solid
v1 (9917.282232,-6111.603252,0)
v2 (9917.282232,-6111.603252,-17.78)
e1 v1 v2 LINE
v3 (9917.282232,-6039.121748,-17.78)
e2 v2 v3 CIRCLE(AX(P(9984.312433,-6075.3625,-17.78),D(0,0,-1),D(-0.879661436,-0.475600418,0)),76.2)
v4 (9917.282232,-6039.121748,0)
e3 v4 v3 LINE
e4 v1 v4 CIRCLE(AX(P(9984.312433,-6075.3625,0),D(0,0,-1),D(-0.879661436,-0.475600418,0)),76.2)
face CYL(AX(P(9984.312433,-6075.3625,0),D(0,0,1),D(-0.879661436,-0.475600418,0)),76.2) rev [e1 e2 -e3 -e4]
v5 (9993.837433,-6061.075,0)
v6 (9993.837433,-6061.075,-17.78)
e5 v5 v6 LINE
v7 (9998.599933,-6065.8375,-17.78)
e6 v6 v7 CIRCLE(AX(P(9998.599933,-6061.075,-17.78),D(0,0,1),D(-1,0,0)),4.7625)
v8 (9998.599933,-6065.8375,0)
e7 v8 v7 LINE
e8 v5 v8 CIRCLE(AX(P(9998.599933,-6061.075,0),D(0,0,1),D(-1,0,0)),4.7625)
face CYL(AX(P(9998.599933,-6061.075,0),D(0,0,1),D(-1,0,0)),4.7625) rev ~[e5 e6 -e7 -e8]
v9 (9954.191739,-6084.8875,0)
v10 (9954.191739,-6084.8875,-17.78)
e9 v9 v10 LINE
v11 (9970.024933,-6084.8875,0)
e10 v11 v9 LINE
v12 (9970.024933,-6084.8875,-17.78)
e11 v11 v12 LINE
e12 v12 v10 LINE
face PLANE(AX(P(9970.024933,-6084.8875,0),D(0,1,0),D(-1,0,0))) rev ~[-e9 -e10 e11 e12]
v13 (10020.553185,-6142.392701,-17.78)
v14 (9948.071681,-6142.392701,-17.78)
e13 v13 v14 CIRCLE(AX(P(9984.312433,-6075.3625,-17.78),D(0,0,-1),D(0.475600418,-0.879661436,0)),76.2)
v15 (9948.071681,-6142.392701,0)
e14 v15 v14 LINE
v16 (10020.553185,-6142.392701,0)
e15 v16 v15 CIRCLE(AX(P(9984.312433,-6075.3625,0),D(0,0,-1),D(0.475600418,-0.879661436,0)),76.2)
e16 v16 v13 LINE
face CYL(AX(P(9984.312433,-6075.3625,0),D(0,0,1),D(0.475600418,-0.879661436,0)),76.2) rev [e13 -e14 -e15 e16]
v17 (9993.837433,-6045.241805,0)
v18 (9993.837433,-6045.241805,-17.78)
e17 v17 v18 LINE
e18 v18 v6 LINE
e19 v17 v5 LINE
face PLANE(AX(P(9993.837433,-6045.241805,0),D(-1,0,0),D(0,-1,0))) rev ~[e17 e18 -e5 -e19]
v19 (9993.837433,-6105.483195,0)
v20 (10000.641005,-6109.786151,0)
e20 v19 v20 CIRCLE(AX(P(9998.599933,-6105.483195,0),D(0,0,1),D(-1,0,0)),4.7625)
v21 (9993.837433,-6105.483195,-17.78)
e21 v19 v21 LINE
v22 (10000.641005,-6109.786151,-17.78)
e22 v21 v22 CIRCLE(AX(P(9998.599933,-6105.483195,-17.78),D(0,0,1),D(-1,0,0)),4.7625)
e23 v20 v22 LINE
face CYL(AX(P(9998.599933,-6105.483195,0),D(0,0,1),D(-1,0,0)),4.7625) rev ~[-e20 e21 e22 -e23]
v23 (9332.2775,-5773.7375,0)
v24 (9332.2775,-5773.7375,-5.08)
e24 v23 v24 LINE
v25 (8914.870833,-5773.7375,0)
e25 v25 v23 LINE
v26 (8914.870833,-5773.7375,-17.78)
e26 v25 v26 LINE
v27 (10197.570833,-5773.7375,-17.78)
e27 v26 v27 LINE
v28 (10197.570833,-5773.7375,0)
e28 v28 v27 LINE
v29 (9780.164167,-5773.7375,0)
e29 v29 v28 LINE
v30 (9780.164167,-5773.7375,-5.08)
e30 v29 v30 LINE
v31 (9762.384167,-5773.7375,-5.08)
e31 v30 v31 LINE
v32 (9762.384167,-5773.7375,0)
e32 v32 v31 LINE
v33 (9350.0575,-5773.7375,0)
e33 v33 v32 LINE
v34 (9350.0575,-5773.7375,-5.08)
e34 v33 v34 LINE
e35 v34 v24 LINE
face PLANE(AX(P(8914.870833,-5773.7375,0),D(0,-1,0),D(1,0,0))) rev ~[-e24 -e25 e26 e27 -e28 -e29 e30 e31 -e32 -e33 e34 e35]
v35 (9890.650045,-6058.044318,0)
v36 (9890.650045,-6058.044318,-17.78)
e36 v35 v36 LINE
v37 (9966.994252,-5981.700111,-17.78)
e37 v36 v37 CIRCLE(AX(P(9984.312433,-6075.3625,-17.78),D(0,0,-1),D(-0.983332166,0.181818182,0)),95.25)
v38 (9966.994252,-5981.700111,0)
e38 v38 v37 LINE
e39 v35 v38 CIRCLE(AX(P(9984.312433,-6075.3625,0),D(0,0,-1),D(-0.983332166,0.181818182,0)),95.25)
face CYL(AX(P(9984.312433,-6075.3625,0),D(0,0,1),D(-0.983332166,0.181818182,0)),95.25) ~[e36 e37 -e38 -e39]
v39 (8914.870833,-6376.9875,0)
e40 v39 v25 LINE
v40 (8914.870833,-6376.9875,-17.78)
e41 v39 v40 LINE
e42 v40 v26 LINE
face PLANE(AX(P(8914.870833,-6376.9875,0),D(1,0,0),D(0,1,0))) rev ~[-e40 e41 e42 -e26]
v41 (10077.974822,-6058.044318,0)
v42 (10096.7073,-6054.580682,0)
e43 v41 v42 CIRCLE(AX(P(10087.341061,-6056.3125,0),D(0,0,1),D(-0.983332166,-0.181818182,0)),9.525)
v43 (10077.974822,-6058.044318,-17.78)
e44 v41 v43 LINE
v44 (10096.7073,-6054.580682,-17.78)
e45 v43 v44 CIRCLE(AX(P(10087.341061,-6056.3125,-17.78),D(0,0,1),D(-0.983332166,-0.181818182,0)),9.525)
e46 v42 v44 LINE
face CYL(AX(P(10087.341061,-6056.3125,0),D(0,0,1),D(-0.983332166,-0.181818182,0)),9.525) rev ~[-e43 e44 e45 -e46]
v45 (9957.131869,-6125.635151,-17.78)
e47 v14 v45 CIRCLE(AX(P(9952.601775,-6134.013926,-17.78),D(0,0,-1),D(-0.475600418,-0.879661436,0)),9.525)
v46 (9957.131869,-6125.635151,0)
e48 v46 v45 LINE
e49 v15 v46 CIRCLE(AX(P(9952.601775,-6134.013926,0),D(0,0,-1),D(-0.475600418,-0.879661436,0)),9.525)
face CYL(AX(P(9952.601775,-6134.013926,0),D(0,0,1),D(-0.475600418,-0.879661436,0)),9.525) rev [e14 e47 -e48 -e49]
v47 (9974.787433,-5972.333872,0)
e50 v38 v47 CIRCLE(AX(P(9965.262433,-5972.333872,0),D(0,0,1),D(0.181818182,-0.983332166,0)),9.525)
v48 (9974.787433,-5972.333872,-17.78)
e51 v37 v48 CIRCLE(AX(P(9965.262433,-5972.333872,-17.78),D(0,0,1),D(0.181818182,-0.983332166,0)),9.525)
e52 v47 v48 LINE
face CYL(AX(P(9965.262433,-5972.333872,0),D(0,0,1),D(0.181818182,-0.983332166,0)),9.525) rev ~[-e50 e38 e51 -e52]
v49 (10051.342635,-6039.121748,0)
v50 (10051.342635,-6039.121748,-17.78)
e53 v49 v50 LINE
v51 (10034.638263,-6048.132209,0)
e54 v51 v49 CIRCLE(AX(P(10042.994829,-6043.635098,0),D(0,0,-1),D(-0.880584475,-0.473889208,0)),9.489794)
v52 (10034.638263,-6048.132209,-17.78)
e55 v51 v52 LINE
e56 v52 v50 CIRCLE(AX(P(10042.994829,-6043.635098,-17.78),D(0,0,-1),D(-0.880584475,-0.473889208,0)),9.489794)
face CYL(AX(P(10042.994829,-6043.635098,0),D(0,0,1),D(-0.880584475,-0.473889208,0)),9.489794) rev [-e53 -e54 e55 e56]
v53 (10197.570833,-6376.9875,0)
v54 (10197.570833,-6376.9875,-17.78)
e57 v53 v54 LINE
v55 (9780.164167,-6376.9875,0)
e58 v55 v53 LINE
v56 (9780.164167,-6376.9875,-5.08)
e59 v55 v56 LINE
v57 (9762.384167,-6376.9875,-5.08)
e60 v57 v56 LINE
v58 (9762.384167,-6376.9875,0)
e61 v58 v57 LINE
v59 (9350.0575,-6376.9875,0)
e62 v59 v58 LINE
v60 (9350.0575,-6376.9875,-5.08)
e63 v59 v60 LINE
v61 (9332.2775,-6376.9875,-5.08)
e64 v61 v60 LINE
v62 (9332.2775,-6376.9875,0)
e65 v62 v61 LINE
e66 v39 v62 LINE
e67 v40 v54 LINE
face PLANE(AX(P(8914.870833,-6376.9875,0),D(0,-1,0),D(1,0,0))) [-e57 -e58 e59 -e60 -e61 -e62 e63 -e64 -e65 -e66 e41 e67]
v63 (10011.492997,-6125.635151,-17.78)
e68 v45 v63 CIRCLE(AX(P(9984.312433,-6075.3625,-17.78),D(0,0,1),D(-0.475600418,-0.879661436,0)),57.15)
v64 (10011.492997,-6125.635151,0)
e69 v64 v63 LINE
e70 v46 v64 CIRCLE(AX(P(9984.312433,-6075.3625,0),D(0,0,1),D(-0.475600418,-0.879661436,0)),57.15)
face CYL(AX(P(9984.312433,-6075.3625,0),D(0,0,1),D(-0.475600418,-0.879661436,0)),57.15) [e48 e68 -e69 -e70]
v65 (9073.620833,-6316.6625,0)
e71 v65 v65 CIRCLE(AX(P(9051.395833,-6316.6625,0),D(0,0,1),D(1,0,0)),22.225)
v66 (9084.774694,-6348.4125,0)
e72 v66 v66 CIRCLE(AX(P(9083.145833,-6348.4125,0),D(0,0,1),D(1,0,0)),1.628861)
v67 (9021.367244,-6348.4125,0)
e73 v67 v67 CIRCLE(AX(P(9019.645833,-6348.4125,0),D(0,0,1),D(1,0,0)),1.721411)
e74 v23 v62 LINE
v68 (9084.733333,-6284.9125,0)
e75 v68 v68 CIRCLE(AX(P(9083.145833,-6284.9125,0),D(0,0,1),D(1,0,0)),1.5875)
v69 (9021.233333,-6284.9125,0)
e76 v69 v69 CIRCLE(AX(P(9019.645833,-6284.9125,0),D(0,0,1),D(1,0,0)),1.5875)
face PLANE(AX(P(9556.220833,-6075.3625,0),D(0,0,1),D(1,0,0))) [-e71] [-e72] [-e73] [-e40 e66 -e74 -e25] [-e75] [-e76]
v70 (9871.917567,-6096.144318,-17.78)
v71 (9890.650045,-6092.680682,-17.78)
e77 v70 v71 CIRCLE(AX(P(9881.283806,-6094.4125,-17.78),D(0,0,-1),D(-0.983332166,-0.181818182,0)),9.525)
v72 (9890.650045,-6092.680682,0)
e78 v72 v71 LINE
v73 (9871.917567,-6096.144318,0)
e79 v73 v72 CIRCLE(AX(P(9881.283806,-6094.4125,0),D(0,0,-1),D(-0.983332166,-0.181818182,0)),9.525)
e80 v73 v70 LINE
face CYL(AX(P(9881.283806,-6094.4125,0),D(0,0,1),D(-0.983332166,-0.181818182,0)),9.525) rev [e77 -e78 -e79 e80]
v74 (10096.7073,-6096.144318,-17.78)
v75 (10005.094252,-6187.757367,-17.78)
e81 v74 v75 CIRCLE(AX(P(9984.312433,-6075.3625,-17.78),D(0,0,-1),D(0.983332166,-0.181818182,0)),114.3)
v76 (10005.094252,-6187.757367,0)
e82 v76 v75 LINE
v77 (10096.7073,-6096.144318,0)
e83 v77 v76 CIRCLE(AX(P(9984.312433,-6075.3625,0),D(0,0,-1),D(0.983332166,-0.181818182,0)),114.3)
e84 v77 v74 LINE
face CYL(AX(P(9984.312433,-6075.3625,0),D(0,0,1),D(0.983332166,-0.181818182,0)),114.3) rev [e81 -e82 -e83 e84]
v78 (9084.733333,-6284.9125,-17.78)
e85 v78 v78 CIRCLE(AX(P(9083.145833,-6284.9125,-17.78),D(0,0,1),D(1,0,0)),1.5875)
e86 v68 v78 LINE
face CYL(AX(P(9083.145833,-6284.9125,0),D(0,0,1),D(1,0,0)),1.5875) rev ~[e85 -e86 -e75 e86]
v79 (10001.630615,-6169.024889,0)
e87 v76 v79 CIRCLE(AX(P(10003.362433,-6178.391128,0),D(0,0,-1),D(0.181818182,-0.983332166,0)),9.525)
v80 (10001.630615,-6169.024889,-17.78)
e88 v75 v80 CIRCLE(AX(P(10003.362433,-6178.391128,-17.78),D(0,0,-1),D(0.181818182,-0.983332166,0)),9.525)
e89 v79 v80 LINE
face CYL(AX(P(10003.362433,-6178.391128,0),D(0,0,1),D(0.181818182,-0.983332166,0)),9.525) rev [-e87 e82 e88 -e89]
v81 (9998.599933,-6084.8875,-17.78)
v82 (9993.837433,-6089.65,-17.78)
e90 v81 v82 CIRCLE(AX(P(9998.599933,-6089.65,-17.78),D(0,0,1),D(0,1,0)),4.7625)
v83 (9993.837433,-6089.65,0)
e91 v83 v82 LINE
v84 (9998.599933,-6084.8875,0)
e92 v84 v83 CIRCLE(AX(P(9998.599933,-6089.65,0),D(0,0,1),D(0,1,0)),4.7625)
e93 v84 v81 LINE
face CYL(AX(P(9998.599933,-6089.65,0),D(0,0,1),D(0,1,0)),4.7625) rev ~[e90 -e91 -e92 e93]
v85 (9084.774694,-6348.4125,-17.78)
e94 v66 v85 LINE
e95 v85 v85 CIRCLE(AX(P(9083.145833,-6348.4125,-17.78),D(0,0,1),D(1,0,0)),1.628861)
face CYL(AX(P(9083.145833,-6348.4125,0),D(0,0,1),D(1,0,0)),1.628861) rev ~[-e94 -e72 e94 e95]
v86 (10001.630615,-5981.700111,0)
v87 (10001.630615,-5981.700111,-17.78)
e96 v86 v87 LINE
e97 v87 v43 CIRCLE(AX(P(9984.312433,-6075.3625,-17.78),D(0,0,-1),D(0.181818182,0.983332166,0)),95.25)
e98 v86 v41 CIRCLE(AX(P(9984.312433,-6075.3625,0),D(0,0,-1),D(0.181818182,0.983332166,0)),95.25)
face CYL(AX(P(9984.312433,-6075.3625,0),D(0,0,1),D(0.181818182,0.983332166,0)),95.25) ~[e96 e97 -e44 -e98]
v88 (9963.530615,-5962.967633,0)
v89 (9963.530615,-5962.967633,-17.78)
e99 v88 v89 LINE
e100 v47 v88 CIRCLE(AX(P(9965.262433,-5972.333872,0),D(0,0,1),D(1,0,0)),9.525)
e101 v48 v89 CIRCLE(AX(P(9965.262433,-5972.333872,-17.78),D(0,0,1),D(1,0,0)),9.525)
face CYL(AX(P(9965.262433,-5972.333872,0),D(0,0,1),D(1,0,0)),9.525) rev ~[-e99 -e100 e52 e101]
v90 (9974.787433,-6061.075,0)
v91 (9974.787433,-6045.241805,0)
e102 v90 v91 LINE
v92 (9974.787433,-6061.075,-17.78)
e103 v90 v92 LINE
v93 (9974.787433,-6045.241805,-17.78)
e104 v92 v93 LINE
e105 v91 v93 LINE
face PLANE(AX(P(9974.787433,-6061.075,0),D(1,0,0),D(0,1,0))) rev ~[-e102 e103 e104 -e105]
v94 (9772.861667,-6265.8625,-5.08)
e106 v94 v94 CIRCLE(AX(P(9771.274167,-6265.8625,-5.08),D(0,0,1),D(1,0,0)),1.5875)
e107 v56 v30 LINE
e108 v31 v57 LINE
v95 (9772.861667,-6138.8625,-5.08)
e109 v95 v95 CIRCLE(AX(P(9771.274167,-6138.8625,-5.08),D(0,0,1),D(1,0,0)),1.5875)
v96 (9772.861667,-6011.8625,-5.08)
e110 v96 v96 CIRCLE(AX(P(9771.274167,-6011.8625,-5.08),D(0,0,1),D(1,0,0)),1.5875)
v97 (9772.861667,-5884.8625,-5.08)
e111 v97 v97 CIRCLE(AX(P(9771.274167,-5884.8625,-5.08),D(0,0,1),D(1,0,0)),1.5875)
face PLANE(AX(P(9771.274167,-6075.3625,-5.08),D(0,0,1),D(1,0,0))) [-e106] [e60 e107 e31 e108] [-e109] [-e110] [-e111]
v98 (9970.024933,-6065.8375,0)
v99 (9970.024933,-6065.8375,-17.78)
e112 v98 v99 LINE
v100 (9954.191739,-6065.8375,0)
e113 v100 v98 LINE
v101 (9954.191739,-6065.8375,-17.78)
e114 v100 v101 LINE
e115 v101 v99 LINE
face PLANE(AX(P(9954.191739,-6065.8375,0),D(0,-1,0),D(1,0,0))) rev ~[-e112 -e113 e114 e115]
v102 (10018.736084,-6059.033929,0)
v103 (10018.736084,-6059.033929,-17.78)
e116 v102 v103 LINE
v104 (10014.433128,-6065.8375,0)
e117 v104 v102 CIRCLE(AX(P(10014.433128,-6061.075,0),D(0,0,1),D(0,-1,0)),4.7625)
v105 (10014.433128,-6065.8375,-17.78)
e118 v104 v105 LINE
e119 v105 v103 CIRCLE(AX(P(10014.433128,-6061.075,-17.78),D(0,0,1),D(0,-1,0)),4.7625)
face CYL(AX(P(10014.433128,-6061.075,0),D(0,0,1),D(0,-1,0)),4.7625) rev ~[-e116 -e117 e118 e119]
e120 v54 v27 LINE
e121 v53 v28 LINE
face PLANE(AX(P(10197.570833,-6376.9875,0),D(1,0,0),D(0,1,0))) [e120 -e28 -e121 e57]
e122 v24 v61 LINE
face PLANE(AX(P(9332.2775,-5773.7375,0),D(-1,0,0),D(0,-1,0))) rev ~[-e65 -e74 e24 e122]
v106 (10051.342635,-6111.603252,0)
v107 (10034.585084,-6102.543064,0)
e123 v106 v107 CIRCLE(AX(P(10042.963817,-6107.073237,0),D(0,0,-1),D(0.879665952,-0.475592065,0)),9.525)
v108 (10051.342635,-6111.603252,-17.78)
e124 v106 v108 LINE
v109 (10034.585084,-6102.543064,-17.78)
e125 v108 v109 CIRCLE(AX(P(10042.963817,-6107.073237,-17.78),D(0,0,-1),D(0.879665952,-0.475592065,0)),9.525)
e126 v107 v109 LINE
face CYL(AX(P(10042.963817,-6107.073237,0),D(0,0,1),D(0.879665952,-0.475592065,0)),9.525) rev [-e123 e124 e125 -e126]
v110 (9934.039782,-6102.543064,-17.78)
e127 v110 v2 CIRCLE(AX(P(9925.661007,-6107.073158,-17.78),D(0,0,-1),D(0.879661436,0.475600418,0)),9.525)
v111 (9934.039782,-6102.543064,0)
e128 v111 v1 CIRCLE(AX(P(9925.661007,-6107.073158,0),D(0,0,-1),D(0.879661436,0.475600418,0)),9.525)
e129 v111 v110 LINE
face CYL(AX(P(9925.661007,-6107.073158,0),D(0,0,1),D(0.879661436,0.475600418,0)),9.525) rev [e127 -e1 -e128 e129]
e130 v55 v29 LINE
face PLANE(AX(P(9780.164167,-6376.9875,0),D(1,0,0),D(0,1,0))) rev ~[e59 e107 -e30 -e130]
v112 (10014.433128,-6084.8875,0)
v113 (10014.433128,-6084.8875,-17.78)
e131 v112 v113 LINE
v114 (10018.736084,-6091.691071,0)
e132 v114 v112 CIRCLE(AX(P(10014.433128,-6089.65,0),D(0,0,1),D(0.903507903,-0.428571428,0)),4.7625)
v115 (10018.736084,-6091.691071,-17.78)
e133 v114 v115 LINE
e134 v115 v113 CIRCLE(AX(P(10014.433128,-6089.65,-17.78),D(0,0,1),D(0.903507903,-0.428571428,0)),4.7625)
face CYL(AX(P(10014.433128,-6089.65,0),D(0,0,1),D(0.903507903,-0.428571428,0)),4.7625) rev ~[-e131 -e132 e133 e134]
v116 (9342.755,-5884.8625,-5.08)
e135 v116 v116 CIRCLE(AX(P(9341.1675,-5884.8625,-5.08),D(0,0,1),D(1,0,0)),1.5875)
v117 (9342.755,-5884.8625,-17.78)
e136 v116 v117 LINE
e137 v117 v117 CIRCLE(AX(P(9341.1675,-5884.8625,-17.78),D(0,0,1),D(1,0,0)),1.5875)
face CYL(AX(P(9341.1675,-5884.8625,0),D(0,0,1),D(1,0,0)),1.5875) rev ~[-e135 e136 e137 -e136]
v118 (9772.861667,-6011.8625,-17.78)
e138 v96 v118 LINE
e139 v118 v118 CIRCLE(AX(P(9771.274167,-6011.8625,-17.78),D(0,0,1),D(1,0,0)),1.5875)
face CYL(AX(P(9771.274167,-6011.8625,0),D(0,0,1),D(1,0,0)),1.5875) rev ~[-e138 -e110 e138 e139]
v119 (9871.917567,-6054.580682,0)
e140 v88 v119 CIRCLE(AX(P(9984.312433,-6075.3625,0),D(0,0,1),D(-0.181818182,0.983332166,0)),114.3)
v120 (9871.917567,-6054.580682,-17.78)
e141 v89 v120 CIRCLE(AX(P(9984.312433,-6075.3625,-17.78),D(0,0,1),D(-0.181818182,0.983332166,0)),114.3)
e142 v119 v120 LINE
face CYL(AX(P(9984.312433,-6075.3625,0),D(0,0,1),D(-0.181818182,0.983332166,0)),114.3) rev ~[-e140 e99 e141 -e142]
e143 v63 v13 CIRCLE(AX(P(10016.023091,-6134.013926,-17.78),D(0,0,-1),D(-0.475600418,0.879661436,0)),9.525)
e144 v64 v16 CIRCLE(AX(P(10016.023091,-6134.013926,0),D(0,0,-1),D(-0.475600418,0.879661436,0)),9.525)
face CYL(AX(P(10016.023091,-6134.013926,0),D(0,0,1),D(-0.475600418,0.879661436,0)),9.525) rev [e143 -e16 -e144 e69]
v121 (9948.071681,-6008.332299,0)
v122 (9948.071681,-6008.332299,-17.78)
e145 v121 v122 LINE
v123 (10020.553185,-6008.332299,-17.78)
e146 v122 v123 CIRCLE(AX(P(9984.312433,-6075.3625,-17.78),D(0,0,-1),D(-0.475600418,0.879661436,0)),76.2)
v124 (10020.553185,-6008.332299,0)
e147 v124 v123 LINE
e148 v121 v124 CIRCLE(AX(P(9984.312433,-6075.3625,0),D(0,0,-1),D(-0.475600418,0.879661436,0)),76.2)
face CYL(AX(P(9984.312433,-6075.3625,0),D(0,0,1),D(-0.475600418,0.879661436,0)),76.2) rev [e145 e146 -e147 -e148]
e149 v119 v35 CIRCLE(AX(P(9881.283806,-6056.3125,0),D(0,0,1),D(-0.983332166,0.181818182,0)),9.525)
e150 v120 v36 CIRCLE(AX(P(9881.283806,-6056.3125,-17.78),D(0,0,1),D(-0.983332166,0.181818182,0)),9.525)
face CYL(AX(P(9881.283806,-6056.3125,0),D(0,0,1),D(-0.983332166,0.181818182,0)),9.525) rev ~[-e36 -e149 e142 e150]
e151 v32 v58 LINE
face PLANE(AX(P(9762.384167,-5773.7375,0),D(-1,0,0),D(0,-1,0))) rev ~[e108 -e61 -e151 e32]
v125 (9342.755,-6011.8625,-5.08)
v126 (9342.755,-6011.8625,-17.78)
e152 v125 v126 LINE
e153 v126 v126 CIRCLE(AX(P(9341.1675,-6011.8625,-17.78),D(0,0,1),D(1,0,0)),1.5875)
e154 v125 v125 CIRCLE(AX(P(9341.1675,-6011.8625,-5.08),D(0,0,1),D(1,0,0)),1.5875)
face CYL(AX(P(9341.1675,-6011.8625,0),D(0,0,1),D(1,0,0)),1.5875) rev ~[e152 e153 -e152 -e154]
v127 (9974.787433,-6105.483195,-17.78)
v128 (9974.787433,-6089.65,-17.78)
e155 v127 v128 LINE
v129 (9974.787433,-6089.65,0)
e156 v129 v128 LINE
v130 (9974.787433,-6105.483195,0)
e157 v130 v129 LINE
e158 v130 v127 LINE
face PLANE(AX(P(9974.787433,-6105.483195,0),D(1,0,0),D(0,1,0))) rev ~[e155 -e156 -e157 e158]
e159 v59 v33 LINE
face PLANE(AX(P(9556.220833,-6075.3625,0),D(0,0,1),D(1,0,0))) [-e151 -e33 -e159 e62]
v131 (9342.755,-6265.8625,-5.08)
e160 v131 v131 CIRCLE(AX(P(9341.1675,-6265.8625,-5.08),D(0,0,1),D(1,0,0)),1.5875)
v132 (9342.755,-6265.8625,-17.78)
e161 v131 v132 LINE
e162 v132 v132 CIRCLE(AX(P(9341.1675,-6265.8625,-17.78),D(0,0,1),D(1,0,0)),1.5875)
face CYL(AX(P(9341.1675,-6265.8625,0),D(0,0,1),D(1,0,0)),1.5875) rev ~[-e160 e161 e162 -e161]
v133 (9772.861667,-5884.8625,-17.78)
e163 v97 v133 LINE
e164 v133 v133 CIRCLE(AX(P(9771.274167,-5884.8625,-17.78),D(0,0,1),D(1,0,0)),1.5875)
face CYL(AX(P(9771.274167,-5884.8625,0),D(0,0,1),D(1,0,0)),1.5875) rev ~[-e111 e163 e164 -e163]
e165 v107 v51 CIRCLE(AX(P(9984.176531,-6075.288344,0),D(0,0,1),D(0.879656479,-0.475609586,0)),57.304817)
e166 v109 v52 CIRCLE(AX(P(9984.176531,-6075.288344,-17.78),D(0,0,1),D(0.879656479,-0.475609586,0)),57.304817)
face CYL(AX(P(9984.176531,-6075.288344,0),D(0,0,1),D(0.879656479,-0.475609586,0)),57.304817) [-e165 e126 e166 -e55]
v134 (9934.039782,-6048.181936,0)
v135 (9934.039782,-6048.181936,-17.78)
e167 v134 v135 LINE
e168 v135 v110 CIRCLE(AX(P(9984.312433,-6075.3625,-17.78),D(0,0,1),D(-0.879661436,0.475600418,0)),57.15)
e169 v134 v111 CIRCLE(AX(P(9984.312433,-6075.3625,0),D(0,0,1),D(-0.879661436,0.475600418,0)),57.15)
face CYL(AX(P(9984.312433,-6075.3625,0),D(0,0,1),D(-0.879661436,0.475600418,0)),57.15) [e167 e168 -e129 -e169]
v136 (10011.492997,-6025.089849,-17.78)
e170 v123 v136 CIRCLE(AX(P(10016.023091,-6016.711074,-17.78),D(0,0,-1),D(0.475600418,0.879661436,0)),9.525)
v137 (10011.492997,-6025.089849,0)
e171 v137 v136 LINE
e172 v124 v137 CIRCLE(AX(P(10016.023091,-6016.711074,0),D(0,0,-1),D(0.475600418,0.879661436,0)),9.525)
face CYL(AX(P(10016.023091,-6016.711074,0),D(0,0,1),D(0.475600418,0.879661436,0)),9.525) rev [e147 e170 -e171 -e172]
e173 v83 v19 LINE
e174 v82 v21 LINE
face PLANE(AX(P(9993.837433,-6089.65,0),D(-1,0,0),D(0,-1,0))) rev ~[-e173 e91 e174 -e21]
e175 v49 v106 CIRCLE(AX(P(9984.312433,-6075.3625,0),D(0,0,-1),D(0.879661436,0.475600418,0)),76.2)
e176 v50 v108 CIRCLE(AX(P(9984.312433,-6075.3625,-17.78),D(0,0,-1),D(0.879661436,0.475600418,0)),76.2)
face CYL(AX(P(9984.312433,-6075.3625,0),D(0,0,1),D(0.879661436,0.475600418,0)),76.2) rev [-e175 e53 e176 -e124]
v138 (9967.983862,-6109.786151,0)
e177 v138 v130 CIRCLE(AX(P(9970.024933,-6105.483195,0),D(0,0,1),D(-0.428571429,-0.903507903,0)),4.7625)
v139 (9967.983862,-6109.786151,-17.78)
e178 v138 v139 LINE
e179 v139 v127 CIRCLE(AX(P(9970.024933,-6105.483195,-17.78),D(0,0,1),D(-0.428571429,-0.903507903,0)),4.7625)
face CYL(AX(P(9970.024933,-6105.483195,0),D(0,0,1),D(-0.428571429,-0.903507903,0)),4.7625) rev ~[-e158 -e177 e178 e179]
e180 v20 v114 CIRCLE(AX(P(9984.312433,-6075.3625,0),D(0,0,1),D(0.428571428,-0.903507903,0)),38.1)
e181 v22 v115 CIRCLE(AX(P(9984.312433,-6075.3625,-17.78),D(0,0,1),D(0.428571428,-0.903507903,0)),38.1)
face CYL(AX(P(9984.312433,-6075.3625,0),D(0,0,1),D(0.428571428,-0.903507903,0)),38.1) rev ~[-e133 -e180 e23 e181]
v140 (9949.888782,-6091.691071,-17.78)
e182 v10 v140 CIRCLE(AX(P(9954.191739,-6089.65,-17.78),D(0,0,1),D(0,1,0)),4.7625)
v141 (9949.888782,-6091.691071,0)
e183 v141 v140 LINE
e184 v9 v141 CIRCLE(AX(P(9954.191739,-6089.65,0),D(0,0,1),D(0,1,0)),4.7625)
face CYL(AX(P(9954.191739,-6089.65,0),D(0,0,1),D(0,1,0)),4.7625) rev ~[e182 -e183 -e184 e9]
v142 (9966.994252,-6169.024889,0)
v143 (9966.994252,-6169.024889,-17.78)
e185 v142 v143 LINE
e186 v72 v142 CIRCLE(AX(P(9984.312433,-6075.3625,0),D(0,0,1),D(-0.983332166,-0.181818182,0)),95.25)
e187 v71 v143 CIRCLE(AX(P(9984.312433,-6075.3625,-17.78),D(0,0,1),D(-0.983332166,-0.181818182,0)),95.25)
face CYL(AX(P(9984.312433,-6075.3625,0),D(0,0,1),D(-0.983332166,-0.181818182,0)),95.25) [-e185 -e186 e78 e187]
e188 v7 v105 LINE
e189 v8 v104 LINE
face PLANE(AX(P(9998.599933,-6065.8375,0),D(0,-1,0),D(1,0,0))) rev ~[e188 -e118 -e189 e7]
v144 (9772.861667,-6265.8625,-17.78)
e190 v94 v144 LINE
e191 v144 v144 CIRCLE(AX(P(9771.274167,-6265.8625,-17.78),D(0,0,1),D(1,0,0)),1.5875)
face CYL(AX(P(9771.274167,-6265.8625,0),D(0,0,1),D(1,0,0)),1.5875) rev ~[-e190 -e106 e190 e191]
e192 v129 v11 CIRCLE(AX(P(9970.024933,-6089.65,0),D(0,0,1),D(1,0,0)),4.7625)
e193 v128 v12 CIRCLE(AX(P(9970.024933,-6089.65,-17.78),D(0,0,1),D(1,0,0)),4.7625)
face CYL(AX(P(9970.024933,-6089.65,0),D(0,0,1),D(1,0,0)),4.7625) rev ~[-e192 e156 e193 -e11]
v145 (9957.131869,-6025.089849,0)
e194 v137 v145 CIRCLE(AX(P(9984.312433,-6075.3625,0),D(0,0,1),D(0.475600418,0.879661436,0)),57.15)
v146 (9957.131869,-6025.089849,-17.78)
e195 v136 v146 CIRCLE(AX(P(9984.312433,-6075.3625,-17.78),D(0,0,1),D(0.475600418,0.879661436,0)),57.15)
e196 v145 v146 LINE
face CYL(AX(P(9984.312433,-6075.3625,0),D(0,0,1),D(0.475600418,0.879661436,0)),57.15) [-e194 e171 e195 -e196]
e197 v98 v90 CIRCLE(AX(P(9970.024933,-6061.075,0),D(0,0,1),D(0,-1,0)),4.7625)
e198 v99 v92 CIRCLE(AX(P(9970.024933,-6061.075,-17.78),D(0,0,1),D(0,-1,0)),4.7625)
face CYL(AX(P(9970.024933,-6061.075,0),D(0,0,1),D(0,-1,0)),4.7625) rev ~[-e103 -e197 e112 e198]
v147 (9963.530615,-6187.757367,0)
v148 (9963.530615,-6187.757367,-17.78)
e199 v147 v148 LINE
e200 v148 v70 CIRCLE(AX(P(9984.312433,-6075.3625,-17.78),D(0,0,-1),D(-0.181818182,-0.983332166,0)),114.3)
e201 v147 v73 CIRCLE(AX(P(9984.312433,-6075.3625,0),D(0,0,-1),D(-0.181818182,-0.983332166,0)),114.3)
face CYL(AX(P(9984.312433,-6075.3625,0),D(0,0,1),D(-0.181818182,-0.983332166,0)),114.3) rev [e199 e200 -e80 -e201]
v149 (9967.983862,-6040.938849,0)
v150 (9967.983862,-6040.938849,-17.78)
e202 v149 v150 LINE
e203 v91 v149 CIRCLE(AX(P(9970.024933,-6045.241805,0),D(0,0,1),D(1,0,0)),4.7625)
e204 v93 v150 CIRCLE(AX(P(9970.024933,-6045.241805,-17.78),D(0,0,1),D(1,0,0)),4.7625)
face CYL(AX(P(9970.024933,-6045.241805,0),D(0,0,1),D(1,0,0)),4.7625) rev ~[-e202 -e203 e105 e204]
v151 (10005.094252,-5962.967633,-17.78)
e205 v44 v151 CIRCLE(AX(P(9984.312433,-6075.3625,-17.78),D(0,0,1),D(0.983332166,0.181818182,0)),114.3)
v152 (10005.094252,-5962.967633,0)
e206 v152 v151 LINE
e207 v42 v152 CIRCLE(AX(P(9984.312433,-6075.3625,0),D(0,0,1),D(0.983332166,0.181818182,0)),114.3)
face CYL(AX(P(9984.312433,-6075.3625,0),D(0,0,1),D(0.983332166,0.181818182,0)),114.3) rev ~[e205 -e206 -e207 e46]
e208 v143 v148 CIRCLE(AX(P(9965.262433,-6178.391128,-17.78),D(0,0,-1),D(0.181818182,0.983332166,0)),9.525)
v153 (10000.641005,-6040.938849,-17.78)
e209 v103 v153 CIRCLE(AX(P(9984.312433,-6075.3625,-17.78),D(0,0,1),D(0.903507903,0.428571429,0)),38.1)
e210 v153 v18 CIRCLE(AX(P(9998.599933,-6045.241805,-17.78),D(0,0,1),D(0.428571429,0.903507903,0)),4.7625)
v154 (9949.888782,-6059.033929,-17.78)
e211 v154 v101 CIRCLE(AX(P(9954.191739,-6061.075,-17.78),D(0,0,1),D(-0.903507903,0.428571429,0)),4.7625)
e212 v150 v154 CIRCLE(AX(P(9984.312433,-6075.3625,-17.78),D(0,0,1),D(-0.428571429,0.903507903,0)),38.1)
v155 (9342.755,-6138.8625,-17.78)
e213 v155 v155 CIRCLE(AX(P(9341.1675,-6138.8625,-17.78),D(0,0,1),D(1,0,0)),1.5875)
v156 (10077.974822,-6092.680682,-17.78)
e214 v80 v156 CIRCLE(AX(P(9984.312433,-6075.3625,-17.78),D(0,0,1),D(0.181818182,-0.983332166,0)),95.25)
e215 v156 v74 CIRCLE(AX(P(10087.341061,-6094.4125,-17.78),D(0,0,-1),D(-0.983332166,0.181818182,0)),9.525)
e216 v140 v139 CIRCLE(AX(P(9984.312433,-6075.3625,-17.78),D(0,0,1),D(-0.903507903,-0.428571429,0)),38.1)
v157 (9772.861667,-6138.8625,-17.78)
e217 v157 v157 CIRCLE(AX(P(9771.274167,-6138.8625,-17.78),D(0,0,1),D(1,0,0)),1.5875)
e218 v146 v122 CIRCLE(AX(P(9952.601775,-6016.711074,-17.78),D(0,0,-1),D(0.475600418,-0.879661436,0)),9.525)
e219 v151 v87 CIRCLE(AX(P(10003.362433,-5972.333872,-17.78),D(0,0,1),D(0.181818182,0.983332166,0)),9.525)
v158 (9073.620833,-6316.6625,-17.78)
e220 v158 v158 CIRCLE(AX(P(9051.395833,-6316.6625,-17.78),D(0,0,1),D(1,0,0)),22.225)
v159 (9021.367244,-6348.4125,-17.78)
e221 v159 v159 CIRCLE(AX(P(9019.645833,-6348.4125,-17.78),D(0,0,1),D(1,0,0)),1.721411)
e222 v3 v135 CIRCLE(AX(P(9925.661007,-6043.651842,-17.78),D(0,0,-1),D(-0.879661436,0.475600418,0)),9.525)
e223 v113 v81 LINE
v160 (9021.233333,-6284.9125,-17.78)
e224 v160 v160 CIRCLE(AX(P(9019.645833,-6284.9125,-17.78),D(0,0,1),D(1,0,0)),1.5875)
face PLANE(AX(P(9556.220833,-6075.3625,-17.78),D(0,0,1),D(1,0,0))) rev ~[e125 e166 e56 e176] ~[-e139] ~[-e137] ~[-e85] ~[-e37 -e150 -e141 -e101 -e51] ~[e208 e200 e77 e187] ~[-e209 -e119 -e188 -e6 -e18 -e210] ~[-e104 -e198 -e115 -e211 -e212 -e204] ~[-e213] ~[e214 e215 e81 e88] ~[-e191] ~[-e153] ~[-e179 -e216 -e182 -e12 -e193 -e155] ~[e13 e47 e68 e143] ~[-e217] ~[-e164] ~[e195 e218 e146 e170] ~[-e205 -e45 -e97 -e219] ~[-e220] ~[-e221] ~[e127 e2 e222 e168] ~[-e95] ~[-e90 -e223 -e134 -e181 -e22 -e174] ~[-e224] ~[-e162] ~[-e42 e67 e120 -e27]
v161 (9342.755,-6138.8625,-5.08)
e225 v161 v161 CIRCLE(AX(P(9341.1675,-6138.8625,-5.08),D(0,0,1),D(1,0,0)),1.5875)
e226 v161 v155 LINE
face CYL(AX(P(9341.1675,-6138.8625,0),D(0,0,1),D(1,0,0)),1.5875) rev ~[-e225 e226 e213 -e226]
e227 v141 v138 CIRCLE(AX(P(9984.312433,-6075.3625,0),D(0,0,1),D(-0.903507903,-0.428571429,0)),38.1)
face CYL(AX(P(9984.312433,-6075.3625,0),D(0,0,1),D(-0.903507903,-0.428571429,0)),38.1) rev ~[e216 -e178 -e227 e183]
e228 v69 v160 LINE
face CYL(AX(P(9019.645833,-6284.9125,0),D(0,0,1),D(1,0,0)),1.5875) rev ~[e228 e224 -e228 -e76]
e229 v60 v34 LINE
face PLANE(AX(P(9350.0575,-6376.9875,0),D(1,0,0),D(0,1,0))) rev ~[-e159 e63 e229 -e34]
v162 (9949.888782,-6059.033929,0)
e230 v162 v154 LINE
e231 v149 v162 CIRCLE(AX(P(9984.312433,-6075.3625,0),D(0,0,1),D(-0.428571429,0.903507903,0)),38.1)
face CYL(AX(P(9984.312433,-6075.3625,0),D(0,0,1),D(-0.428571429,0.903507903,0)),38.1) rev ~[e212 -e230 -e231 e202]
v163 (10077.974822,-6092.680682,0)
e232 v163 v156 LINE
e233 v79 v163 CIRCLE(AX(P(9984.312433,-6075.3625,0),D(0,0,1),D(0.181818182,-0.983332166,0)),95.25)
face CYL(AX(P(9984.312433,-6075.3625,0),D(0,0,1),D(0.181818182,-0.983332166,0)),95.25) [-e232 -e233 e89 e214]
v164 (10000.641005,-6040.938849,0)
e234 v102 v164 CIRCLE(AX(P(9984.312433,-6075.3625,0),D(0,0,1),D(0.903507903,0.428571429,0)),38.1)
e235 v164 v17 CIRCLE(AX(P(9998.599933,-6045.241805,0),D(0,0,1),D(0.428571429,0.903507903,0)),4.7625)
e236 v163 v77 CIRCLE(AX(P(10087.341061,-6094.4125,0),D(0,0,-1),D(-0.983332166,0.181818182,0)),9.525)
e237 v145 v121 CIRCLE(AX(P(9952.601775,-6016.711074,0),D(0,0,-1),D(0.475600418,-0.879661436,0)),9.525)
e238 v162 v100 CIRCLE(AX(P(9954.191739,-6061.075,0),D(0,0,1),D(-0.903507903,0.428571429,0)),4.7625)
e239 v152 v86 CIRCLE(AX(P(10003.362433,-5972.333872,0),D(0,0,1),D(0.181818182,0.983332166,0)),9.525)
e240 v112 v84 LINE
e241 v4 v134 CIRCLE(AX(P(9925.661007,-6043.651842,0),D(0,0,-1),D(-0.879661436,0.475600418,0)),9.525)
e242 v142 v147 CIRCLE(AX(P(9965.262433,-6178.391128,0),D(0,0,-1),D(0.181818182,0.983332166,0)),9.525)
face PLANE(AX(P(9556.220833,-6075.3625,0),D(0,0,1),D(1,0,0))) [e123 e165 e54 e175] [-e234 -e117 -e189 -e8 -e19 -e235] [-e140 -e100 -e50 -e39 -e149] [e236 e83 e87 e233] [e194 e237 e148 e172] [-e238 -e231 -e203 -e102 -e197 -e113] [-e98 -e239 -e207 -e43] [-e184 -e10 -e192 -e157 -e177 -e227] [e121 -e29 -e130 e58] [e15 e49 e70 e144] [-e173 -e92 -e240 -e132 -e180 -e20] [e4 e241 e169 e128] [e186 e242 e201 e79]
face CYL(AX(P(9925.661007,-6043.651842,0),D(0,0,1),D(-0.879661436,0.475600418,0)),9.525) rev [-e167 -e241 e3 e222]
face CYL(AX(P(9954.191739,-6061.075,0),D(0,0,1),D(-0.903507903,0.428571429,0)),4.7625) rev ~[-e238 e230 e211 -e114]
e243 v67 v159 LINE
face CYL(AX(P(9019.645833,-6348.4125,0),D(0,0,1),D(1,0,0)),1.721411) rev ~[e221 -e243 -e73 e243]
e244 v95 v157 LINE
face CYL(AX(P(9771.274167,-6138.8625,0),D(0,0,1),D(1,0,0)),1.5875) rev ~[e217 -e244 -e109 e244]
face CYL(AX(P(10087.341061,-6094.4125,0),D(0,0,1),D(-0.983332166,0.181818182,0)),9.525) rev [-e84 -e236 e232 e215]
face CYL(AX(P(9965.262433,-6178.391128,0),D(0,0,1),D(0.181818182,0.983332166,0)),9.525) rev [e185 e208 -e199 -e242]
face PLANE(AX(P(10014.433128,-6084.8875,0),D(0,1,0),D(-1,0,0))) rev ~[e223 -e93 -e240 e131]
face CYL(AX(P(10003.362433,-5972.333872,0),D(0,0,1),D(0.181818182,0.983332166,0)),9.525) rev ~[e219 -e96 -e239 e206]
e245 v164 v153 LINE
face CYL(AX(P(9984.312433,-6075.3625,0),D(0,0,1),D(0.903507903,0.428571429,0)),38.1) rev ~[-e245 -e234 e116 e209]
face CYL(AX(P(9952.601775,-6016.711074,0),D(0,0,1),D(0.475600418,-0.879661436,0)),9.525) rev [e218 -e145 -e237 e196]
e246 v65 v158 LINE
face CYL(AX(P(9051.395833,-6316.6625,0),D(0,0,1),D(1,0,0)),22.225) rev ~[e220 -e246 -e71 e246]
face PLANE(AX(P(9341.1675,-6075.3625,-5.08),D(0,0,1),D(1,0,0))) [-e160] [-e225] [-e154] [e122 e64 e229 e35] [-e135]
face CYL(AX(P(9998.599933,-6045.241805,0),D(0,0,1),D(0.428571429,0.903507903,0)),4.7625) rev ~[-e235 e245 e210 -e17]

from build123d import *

# Parameters (mm, degrees)
CABBOTTOM_OUTLINE_W       = 1282.7
CABBOTTOM_OUTLINE_H       = 603.25
CABBOTTOM_THICKNESS_DEPTH = 17.78
SKETCH4_R                 = 22.225
SKETCH4_R_2               = 1.5875
SKETCH4_R_3               = 1.628860789
SKETCH4_R_4               = 1.721410862
CUT_EXTRUDE1_DEPTH        = 17.78
BRACECUTS_DEPTH_DEPTH     = 5.08


with BuildPart() as part:
    # CabBottom_Outline → CabBottom_Thickness (new body)
    with BuildSketch(Plane.XY):
        with Locations((9556.220833334, -6075.3625)):
            Rectangle(CABBOTTOM_OUTLINE_W, CABBOTTOM_OUTLINE_H)
    extrude(amount=-CABBOTTOM_THICKNESS_DEPTH)

    # Sketch4 → Cut-Extrude1 (cut)
    with BuildSketch(Plane.XY):
        with Locations((9051.395833334, -6316.6625)):
            Circle(SKETCH4_R)
        with Locations((9019.645833334, -6284.9125)):
            Circle(SKETCH4_R_2)
        with Locations((9083.145833334, -6284.9125)):
            Circle(SKETCH4_R_2)
        with Locations((9083.145833334, -6348.4125)):
            Circle(SKETCH4_R_3)
        with Locations((9019.645833334, -6348.4125)):
            Circle(SKETCH4_R_4)
        with Locations((9341.1675, -6265.8625)):
            Circle(SKETCH4_R_2)
        with Locations((9341.1675, -6138.8625)):
            Circle(SKETCH4_R_2)
        with Locations((9341.1675, -6011.8625)):
            Circle(SKETCH4_R_2)
        with Locations((9341.1675, -5884.8625)):
            Circle(SKETCH4_R_2)
        with Locations((9771.274166666, -5884.8625)):
            Circle(SKETCH4_R_2)
        with Locations((9771.274166666, -6011.8625)):
            Circle(SKETCH4_R_2)
        with Locations((9771.274166666, -6138.8625)):
            Circle(SKETCH4_R_2)
        with Locations((9771.274166666, -6265.8625)):
            Circle(SKETCH4_R_2)
        with BuildLine():
            Line((9974.787433334, -6061.075), (9974.787433334, -6045.241805286))
            ThreePointArc((9974.787433334, -6045.241805286), (9972.570596663, -6041.216758148), (9967.983861906, -6040.938848899))
            ThreePointArc((9967.983861906, -6040.938848899), (9957.371664972, -6048.421731638), (9949.888782233, -6059.033928571))
            ThreePointArc((9949.888782233, -6059.033928571), (9950.166691482, -6063.620663329), (9954.19173862, -6065.8375))
            Line((9954.19173862, -6065.8375), (9970.024933334, -6065.8375))
            ThreePointArc((9970.024933334, -6065.8375), (9973.39252938, -6064.442596045), (9974.787433334, -6061.075))
        make_face()
        with BuildLine():
            Line((9993.837433334, -6045.241805286), (9993.837433334, -6061.075))
            ThreePointArc((9993.837433334, -6061.075), (9995.232337289, -6064.442596045), (9998.599933334, -6065.8375))
            Line((9998.599933334, -6065.8375), (10014.433128046, -6065.8375))
            ThreePointArc((10014.433128046, -6065.8375), (10018.458175184, -6063.620663329), (10018.736084433, -6059.033928571))
            ThreePointArc((10018.736084433, -6059.033928571), (10011.253201696, -6048.421731637), (10000.641004763, -6040.938848899))
            ThreePointArc((10000.641004763, -6040.938848899), (9996.054270005, -6041.216758148), (9993.837433334, -6045.241805286))
        make_face()
        with BuildLine():
            Line((10014.433128046, -6084.8875), (9998.599933334, -6084.8875))
            ThreePointArc((9998.599933334, -6084.8875), (9995.232337289, -6086.282403955), (9993.837433334, -6089.65))
            Line((9993.837433334, -6089.65), (9993.837433334, -6105.483194714))
            ThreePointArc((9993.837433334, -6105.483194714), (9996.054270005, -6109.508241852), (10000.641004763, -6109.786151102))
            ThreePointArc((10000.641004763, -6109.786151102), (10011.253201699, -6102.303268365), (10018.736084435, -6091.691071429))
            ThreePointArc((10018.736084435, -6091.691071429), (10018.458175184, -6087.104336671), (10014.433128046, -6084.8875))
        make_face()
        with BuildLine():
            Line((9970.024933334, -6084.8875), (9954.19173862, -6084.8875))
            ThreePointArc((9954.19173862, -6084.8875), (9950.166691482, -6087.104336671), (9949.888782233, -6091.691071429))
            ThreePointArc((9949.888782233, -6091.691071429), (9957.371664972, -6102.303268362), (9967.983861906, -6109.786151101))
            ThreePointArc((9967.983861906, -6109.786151101), (9972.570596663, -6109.508241852), (9974.787433334, -6105.483194714))
            Line((9974.787433334, -6105.483194714), (9974.787433334, -6089.65))
            ThreePointArc((9974.787433334, -6089.65), (9973.39252938, -6086.282403955), (9970.024933334, -6084.8875))
        make_face()
        with BuildLine():
            ThreePointArc((9890.650044519, -6058.044318182), (9916.960512426, -6008.010579092), (9966.994251516, -5981.700111185))
            ThreePointArc((9966.994251516, -5981.700111185), (9972.584359078, -5978.426082773), (9974.787433334, -5972.333872304))
            ThreePointArc((9974.787433334, -5972.333872304), (9971.354643804, -5965.01194656), (9963.530615152, -5962.967633422))
            ThreePointArc((9963.530615152, -5962.967633422), (9903.490128244, -5994.54019491), (9871.917566756, -6054.580681818))
            ThreePointArc((9871.917566756, -6054.580681818), (9879.551987456, -6065.678738882), (9890.650044519, -6058.044318182))
        make_face()
        with BuildLine():
            ThreePointArc((9890.650044519, -6092.680681818), (9916.960512426, -6142.714420908), (9966.994251516, -6169.024888814))
            ThreePointArc((9966.994251516, -6169.024888814), (9974.628672216, -6180.122945878), (9963.530615152, -6187.757366578))
            ThreePointArc((9963.530615152, -6187.757366578), (9903.490128244, -6156.18480509), (9871.917566756, -6096.144318182))
            ThreePointArc((9871.917566756, -6096.144318182), (9879.551987456, -6085.046261119), (9890.650044519, -6092.680681818))
        make_face()
        with BuildLine():
            ThreePointArc((10001.630615152, -6169.024888815), (10051.664354242, -6142.714420908), (10077.974822149, -6092.680681818))
            ThreePointArc((10077.974822149, -6092.680681818), (10089.072879212, -6085.046261118), (10096.707299912, -6096.144318182))
            ThreePointArc((10096.707299912, -6096.144318182), (10065.134738424, -6156.18480509), (10005.094251516, -6187.757366578))
            ThreePointArc((10005.094251516, -6187.757366578), (9993.996194453, -6180.122945878), (10001.630615152, -6169.024888815))
        make_face()
        with BuildLine():
            ThreePointArc((10001.630615152, -5981.700111185), (10051.664354242, -6008.010579092), (10077.974822148, -6058.044318182))
            ThreePointArc((10077.974822148, -6058.044318182), (10089.072879212, -6065.678738882), (10096.707299912, -6054.580681818))
            ThreePointArc((10096.707299912, -6054.580681818), (10065.134738424, -5994.54019491), (10005.094251516, -5962.967633422))
            ThreePointArc((10005.094251516, -5962.967633422), (9993.996194453, -5970.602054122), (10001.630615152, -5981.700111185))
        make_face()
        with BuildLine():
            ThreePointArc((9917.282231904, -6111.603251872), (9908.112433335, -6075.3625), (9917.282231902, -6039.121748127))
            ThreePointArc((9917.282231902, -6039.121748127), (9930.191101067, -6035.273066932), (9934.039782262, -6048.181936096))
            ThreePointArc((9934.039782262, -6048.181936096), (9927.162433334, -6075.3625), (9934.039782262, -6102.543063904))
            ThreePointArc((9934.039782262, -6102.543063904), (9930.191101067, -6115.451933067), (9917.282231904, -6111.603251872))
        make_face()
        with BuildLine():
            ThreePointArc((9948.071681461, -6008.332298571), (9984.312433334, -5999.162499998), (10020.553185206, -6008.33229857))
            ThreePointArc((10020.553185206, -6008.33229857), (10024.4018664, -6021.241167734), (10011.492997237, -6025.089848928))
            ThreePointArc((10011.492997237, -6025.089848928), (9984.312433333, -6018.212500001), (9957.131869429, -6025.089848928))
            ThreePointArc((9957.131869429, -6025.089848928), (9944.223000266, -6021.241167734), (9948.071681461, -6008.332298571))
        make_face()
        with BuildLine():
            ThreePointArc((10020.553185206, -6142.39270143), (9984.312433334, -6151.5625), (9948.071681462, -6142.39270143))
            ThreePointArc((9948.071681462, -6142.39270143), (9944.223000267, -6129.483832267), (9957.13186943, -6125.635151072))
            ThreePointArc((9957.13186943, -6125.635151072), (9984.312433334, -6132.5125), (10011.492997238, -6125.635151072))
            ThreePointArc((10011.492997238, -6125.635151072), (10024.401866401, -6129.483832267), (10020.553185206, -6142.39270143))
        make_face()
        with BuildLine():
            ThreePointArc((10051.342634764, -6039.121748128), (10060.512433334, -6075.362500001), (10051.342634763, -6111.603251873))
            ThreePointArc((10051.342634763, -6111.603251873), (10038.43373034, -6115.45201683), (10034.585084407, -6102.543063904))
            ThreePointArc((10034.585084407, -6102.543063904), (10041.481320453, -6075.344350738), (10034.638263059, -6048.132209422))
            ThreePointArc((10034.638263059, -6048.132209422), (10038.489595862, -6035.282908491), (10051.342634764, -6039.121748128))
        make_face()
    extrude(amount=-CUT_EXTRUDE1_DEPTH, mode=Mode.SUBTRACT)

    # BraceCuts → BraceCuts_Depth (cut)
    with BuildSketch(Plane.XY):
        Polygon((9350.0575, -6075.3625), (9350.0575, -5773.7375), (9332.2775, -5773.7375), (9332.2775, -6376.9875), (9350.0575, -6376.9875), align=None)
        Polygon((9762.384166666, -6075.3625), (9762.384166666, -6376.9875), (9780.164166666, -6376.9875), (9780.164166666, -5773.7375), (9762.384166666, -5773.7375), align=None)
    extrude(amount=-BRACECUTS_DEPTH_DEPTH, mode=Mode.SUBTRACT)


solid = part.part
